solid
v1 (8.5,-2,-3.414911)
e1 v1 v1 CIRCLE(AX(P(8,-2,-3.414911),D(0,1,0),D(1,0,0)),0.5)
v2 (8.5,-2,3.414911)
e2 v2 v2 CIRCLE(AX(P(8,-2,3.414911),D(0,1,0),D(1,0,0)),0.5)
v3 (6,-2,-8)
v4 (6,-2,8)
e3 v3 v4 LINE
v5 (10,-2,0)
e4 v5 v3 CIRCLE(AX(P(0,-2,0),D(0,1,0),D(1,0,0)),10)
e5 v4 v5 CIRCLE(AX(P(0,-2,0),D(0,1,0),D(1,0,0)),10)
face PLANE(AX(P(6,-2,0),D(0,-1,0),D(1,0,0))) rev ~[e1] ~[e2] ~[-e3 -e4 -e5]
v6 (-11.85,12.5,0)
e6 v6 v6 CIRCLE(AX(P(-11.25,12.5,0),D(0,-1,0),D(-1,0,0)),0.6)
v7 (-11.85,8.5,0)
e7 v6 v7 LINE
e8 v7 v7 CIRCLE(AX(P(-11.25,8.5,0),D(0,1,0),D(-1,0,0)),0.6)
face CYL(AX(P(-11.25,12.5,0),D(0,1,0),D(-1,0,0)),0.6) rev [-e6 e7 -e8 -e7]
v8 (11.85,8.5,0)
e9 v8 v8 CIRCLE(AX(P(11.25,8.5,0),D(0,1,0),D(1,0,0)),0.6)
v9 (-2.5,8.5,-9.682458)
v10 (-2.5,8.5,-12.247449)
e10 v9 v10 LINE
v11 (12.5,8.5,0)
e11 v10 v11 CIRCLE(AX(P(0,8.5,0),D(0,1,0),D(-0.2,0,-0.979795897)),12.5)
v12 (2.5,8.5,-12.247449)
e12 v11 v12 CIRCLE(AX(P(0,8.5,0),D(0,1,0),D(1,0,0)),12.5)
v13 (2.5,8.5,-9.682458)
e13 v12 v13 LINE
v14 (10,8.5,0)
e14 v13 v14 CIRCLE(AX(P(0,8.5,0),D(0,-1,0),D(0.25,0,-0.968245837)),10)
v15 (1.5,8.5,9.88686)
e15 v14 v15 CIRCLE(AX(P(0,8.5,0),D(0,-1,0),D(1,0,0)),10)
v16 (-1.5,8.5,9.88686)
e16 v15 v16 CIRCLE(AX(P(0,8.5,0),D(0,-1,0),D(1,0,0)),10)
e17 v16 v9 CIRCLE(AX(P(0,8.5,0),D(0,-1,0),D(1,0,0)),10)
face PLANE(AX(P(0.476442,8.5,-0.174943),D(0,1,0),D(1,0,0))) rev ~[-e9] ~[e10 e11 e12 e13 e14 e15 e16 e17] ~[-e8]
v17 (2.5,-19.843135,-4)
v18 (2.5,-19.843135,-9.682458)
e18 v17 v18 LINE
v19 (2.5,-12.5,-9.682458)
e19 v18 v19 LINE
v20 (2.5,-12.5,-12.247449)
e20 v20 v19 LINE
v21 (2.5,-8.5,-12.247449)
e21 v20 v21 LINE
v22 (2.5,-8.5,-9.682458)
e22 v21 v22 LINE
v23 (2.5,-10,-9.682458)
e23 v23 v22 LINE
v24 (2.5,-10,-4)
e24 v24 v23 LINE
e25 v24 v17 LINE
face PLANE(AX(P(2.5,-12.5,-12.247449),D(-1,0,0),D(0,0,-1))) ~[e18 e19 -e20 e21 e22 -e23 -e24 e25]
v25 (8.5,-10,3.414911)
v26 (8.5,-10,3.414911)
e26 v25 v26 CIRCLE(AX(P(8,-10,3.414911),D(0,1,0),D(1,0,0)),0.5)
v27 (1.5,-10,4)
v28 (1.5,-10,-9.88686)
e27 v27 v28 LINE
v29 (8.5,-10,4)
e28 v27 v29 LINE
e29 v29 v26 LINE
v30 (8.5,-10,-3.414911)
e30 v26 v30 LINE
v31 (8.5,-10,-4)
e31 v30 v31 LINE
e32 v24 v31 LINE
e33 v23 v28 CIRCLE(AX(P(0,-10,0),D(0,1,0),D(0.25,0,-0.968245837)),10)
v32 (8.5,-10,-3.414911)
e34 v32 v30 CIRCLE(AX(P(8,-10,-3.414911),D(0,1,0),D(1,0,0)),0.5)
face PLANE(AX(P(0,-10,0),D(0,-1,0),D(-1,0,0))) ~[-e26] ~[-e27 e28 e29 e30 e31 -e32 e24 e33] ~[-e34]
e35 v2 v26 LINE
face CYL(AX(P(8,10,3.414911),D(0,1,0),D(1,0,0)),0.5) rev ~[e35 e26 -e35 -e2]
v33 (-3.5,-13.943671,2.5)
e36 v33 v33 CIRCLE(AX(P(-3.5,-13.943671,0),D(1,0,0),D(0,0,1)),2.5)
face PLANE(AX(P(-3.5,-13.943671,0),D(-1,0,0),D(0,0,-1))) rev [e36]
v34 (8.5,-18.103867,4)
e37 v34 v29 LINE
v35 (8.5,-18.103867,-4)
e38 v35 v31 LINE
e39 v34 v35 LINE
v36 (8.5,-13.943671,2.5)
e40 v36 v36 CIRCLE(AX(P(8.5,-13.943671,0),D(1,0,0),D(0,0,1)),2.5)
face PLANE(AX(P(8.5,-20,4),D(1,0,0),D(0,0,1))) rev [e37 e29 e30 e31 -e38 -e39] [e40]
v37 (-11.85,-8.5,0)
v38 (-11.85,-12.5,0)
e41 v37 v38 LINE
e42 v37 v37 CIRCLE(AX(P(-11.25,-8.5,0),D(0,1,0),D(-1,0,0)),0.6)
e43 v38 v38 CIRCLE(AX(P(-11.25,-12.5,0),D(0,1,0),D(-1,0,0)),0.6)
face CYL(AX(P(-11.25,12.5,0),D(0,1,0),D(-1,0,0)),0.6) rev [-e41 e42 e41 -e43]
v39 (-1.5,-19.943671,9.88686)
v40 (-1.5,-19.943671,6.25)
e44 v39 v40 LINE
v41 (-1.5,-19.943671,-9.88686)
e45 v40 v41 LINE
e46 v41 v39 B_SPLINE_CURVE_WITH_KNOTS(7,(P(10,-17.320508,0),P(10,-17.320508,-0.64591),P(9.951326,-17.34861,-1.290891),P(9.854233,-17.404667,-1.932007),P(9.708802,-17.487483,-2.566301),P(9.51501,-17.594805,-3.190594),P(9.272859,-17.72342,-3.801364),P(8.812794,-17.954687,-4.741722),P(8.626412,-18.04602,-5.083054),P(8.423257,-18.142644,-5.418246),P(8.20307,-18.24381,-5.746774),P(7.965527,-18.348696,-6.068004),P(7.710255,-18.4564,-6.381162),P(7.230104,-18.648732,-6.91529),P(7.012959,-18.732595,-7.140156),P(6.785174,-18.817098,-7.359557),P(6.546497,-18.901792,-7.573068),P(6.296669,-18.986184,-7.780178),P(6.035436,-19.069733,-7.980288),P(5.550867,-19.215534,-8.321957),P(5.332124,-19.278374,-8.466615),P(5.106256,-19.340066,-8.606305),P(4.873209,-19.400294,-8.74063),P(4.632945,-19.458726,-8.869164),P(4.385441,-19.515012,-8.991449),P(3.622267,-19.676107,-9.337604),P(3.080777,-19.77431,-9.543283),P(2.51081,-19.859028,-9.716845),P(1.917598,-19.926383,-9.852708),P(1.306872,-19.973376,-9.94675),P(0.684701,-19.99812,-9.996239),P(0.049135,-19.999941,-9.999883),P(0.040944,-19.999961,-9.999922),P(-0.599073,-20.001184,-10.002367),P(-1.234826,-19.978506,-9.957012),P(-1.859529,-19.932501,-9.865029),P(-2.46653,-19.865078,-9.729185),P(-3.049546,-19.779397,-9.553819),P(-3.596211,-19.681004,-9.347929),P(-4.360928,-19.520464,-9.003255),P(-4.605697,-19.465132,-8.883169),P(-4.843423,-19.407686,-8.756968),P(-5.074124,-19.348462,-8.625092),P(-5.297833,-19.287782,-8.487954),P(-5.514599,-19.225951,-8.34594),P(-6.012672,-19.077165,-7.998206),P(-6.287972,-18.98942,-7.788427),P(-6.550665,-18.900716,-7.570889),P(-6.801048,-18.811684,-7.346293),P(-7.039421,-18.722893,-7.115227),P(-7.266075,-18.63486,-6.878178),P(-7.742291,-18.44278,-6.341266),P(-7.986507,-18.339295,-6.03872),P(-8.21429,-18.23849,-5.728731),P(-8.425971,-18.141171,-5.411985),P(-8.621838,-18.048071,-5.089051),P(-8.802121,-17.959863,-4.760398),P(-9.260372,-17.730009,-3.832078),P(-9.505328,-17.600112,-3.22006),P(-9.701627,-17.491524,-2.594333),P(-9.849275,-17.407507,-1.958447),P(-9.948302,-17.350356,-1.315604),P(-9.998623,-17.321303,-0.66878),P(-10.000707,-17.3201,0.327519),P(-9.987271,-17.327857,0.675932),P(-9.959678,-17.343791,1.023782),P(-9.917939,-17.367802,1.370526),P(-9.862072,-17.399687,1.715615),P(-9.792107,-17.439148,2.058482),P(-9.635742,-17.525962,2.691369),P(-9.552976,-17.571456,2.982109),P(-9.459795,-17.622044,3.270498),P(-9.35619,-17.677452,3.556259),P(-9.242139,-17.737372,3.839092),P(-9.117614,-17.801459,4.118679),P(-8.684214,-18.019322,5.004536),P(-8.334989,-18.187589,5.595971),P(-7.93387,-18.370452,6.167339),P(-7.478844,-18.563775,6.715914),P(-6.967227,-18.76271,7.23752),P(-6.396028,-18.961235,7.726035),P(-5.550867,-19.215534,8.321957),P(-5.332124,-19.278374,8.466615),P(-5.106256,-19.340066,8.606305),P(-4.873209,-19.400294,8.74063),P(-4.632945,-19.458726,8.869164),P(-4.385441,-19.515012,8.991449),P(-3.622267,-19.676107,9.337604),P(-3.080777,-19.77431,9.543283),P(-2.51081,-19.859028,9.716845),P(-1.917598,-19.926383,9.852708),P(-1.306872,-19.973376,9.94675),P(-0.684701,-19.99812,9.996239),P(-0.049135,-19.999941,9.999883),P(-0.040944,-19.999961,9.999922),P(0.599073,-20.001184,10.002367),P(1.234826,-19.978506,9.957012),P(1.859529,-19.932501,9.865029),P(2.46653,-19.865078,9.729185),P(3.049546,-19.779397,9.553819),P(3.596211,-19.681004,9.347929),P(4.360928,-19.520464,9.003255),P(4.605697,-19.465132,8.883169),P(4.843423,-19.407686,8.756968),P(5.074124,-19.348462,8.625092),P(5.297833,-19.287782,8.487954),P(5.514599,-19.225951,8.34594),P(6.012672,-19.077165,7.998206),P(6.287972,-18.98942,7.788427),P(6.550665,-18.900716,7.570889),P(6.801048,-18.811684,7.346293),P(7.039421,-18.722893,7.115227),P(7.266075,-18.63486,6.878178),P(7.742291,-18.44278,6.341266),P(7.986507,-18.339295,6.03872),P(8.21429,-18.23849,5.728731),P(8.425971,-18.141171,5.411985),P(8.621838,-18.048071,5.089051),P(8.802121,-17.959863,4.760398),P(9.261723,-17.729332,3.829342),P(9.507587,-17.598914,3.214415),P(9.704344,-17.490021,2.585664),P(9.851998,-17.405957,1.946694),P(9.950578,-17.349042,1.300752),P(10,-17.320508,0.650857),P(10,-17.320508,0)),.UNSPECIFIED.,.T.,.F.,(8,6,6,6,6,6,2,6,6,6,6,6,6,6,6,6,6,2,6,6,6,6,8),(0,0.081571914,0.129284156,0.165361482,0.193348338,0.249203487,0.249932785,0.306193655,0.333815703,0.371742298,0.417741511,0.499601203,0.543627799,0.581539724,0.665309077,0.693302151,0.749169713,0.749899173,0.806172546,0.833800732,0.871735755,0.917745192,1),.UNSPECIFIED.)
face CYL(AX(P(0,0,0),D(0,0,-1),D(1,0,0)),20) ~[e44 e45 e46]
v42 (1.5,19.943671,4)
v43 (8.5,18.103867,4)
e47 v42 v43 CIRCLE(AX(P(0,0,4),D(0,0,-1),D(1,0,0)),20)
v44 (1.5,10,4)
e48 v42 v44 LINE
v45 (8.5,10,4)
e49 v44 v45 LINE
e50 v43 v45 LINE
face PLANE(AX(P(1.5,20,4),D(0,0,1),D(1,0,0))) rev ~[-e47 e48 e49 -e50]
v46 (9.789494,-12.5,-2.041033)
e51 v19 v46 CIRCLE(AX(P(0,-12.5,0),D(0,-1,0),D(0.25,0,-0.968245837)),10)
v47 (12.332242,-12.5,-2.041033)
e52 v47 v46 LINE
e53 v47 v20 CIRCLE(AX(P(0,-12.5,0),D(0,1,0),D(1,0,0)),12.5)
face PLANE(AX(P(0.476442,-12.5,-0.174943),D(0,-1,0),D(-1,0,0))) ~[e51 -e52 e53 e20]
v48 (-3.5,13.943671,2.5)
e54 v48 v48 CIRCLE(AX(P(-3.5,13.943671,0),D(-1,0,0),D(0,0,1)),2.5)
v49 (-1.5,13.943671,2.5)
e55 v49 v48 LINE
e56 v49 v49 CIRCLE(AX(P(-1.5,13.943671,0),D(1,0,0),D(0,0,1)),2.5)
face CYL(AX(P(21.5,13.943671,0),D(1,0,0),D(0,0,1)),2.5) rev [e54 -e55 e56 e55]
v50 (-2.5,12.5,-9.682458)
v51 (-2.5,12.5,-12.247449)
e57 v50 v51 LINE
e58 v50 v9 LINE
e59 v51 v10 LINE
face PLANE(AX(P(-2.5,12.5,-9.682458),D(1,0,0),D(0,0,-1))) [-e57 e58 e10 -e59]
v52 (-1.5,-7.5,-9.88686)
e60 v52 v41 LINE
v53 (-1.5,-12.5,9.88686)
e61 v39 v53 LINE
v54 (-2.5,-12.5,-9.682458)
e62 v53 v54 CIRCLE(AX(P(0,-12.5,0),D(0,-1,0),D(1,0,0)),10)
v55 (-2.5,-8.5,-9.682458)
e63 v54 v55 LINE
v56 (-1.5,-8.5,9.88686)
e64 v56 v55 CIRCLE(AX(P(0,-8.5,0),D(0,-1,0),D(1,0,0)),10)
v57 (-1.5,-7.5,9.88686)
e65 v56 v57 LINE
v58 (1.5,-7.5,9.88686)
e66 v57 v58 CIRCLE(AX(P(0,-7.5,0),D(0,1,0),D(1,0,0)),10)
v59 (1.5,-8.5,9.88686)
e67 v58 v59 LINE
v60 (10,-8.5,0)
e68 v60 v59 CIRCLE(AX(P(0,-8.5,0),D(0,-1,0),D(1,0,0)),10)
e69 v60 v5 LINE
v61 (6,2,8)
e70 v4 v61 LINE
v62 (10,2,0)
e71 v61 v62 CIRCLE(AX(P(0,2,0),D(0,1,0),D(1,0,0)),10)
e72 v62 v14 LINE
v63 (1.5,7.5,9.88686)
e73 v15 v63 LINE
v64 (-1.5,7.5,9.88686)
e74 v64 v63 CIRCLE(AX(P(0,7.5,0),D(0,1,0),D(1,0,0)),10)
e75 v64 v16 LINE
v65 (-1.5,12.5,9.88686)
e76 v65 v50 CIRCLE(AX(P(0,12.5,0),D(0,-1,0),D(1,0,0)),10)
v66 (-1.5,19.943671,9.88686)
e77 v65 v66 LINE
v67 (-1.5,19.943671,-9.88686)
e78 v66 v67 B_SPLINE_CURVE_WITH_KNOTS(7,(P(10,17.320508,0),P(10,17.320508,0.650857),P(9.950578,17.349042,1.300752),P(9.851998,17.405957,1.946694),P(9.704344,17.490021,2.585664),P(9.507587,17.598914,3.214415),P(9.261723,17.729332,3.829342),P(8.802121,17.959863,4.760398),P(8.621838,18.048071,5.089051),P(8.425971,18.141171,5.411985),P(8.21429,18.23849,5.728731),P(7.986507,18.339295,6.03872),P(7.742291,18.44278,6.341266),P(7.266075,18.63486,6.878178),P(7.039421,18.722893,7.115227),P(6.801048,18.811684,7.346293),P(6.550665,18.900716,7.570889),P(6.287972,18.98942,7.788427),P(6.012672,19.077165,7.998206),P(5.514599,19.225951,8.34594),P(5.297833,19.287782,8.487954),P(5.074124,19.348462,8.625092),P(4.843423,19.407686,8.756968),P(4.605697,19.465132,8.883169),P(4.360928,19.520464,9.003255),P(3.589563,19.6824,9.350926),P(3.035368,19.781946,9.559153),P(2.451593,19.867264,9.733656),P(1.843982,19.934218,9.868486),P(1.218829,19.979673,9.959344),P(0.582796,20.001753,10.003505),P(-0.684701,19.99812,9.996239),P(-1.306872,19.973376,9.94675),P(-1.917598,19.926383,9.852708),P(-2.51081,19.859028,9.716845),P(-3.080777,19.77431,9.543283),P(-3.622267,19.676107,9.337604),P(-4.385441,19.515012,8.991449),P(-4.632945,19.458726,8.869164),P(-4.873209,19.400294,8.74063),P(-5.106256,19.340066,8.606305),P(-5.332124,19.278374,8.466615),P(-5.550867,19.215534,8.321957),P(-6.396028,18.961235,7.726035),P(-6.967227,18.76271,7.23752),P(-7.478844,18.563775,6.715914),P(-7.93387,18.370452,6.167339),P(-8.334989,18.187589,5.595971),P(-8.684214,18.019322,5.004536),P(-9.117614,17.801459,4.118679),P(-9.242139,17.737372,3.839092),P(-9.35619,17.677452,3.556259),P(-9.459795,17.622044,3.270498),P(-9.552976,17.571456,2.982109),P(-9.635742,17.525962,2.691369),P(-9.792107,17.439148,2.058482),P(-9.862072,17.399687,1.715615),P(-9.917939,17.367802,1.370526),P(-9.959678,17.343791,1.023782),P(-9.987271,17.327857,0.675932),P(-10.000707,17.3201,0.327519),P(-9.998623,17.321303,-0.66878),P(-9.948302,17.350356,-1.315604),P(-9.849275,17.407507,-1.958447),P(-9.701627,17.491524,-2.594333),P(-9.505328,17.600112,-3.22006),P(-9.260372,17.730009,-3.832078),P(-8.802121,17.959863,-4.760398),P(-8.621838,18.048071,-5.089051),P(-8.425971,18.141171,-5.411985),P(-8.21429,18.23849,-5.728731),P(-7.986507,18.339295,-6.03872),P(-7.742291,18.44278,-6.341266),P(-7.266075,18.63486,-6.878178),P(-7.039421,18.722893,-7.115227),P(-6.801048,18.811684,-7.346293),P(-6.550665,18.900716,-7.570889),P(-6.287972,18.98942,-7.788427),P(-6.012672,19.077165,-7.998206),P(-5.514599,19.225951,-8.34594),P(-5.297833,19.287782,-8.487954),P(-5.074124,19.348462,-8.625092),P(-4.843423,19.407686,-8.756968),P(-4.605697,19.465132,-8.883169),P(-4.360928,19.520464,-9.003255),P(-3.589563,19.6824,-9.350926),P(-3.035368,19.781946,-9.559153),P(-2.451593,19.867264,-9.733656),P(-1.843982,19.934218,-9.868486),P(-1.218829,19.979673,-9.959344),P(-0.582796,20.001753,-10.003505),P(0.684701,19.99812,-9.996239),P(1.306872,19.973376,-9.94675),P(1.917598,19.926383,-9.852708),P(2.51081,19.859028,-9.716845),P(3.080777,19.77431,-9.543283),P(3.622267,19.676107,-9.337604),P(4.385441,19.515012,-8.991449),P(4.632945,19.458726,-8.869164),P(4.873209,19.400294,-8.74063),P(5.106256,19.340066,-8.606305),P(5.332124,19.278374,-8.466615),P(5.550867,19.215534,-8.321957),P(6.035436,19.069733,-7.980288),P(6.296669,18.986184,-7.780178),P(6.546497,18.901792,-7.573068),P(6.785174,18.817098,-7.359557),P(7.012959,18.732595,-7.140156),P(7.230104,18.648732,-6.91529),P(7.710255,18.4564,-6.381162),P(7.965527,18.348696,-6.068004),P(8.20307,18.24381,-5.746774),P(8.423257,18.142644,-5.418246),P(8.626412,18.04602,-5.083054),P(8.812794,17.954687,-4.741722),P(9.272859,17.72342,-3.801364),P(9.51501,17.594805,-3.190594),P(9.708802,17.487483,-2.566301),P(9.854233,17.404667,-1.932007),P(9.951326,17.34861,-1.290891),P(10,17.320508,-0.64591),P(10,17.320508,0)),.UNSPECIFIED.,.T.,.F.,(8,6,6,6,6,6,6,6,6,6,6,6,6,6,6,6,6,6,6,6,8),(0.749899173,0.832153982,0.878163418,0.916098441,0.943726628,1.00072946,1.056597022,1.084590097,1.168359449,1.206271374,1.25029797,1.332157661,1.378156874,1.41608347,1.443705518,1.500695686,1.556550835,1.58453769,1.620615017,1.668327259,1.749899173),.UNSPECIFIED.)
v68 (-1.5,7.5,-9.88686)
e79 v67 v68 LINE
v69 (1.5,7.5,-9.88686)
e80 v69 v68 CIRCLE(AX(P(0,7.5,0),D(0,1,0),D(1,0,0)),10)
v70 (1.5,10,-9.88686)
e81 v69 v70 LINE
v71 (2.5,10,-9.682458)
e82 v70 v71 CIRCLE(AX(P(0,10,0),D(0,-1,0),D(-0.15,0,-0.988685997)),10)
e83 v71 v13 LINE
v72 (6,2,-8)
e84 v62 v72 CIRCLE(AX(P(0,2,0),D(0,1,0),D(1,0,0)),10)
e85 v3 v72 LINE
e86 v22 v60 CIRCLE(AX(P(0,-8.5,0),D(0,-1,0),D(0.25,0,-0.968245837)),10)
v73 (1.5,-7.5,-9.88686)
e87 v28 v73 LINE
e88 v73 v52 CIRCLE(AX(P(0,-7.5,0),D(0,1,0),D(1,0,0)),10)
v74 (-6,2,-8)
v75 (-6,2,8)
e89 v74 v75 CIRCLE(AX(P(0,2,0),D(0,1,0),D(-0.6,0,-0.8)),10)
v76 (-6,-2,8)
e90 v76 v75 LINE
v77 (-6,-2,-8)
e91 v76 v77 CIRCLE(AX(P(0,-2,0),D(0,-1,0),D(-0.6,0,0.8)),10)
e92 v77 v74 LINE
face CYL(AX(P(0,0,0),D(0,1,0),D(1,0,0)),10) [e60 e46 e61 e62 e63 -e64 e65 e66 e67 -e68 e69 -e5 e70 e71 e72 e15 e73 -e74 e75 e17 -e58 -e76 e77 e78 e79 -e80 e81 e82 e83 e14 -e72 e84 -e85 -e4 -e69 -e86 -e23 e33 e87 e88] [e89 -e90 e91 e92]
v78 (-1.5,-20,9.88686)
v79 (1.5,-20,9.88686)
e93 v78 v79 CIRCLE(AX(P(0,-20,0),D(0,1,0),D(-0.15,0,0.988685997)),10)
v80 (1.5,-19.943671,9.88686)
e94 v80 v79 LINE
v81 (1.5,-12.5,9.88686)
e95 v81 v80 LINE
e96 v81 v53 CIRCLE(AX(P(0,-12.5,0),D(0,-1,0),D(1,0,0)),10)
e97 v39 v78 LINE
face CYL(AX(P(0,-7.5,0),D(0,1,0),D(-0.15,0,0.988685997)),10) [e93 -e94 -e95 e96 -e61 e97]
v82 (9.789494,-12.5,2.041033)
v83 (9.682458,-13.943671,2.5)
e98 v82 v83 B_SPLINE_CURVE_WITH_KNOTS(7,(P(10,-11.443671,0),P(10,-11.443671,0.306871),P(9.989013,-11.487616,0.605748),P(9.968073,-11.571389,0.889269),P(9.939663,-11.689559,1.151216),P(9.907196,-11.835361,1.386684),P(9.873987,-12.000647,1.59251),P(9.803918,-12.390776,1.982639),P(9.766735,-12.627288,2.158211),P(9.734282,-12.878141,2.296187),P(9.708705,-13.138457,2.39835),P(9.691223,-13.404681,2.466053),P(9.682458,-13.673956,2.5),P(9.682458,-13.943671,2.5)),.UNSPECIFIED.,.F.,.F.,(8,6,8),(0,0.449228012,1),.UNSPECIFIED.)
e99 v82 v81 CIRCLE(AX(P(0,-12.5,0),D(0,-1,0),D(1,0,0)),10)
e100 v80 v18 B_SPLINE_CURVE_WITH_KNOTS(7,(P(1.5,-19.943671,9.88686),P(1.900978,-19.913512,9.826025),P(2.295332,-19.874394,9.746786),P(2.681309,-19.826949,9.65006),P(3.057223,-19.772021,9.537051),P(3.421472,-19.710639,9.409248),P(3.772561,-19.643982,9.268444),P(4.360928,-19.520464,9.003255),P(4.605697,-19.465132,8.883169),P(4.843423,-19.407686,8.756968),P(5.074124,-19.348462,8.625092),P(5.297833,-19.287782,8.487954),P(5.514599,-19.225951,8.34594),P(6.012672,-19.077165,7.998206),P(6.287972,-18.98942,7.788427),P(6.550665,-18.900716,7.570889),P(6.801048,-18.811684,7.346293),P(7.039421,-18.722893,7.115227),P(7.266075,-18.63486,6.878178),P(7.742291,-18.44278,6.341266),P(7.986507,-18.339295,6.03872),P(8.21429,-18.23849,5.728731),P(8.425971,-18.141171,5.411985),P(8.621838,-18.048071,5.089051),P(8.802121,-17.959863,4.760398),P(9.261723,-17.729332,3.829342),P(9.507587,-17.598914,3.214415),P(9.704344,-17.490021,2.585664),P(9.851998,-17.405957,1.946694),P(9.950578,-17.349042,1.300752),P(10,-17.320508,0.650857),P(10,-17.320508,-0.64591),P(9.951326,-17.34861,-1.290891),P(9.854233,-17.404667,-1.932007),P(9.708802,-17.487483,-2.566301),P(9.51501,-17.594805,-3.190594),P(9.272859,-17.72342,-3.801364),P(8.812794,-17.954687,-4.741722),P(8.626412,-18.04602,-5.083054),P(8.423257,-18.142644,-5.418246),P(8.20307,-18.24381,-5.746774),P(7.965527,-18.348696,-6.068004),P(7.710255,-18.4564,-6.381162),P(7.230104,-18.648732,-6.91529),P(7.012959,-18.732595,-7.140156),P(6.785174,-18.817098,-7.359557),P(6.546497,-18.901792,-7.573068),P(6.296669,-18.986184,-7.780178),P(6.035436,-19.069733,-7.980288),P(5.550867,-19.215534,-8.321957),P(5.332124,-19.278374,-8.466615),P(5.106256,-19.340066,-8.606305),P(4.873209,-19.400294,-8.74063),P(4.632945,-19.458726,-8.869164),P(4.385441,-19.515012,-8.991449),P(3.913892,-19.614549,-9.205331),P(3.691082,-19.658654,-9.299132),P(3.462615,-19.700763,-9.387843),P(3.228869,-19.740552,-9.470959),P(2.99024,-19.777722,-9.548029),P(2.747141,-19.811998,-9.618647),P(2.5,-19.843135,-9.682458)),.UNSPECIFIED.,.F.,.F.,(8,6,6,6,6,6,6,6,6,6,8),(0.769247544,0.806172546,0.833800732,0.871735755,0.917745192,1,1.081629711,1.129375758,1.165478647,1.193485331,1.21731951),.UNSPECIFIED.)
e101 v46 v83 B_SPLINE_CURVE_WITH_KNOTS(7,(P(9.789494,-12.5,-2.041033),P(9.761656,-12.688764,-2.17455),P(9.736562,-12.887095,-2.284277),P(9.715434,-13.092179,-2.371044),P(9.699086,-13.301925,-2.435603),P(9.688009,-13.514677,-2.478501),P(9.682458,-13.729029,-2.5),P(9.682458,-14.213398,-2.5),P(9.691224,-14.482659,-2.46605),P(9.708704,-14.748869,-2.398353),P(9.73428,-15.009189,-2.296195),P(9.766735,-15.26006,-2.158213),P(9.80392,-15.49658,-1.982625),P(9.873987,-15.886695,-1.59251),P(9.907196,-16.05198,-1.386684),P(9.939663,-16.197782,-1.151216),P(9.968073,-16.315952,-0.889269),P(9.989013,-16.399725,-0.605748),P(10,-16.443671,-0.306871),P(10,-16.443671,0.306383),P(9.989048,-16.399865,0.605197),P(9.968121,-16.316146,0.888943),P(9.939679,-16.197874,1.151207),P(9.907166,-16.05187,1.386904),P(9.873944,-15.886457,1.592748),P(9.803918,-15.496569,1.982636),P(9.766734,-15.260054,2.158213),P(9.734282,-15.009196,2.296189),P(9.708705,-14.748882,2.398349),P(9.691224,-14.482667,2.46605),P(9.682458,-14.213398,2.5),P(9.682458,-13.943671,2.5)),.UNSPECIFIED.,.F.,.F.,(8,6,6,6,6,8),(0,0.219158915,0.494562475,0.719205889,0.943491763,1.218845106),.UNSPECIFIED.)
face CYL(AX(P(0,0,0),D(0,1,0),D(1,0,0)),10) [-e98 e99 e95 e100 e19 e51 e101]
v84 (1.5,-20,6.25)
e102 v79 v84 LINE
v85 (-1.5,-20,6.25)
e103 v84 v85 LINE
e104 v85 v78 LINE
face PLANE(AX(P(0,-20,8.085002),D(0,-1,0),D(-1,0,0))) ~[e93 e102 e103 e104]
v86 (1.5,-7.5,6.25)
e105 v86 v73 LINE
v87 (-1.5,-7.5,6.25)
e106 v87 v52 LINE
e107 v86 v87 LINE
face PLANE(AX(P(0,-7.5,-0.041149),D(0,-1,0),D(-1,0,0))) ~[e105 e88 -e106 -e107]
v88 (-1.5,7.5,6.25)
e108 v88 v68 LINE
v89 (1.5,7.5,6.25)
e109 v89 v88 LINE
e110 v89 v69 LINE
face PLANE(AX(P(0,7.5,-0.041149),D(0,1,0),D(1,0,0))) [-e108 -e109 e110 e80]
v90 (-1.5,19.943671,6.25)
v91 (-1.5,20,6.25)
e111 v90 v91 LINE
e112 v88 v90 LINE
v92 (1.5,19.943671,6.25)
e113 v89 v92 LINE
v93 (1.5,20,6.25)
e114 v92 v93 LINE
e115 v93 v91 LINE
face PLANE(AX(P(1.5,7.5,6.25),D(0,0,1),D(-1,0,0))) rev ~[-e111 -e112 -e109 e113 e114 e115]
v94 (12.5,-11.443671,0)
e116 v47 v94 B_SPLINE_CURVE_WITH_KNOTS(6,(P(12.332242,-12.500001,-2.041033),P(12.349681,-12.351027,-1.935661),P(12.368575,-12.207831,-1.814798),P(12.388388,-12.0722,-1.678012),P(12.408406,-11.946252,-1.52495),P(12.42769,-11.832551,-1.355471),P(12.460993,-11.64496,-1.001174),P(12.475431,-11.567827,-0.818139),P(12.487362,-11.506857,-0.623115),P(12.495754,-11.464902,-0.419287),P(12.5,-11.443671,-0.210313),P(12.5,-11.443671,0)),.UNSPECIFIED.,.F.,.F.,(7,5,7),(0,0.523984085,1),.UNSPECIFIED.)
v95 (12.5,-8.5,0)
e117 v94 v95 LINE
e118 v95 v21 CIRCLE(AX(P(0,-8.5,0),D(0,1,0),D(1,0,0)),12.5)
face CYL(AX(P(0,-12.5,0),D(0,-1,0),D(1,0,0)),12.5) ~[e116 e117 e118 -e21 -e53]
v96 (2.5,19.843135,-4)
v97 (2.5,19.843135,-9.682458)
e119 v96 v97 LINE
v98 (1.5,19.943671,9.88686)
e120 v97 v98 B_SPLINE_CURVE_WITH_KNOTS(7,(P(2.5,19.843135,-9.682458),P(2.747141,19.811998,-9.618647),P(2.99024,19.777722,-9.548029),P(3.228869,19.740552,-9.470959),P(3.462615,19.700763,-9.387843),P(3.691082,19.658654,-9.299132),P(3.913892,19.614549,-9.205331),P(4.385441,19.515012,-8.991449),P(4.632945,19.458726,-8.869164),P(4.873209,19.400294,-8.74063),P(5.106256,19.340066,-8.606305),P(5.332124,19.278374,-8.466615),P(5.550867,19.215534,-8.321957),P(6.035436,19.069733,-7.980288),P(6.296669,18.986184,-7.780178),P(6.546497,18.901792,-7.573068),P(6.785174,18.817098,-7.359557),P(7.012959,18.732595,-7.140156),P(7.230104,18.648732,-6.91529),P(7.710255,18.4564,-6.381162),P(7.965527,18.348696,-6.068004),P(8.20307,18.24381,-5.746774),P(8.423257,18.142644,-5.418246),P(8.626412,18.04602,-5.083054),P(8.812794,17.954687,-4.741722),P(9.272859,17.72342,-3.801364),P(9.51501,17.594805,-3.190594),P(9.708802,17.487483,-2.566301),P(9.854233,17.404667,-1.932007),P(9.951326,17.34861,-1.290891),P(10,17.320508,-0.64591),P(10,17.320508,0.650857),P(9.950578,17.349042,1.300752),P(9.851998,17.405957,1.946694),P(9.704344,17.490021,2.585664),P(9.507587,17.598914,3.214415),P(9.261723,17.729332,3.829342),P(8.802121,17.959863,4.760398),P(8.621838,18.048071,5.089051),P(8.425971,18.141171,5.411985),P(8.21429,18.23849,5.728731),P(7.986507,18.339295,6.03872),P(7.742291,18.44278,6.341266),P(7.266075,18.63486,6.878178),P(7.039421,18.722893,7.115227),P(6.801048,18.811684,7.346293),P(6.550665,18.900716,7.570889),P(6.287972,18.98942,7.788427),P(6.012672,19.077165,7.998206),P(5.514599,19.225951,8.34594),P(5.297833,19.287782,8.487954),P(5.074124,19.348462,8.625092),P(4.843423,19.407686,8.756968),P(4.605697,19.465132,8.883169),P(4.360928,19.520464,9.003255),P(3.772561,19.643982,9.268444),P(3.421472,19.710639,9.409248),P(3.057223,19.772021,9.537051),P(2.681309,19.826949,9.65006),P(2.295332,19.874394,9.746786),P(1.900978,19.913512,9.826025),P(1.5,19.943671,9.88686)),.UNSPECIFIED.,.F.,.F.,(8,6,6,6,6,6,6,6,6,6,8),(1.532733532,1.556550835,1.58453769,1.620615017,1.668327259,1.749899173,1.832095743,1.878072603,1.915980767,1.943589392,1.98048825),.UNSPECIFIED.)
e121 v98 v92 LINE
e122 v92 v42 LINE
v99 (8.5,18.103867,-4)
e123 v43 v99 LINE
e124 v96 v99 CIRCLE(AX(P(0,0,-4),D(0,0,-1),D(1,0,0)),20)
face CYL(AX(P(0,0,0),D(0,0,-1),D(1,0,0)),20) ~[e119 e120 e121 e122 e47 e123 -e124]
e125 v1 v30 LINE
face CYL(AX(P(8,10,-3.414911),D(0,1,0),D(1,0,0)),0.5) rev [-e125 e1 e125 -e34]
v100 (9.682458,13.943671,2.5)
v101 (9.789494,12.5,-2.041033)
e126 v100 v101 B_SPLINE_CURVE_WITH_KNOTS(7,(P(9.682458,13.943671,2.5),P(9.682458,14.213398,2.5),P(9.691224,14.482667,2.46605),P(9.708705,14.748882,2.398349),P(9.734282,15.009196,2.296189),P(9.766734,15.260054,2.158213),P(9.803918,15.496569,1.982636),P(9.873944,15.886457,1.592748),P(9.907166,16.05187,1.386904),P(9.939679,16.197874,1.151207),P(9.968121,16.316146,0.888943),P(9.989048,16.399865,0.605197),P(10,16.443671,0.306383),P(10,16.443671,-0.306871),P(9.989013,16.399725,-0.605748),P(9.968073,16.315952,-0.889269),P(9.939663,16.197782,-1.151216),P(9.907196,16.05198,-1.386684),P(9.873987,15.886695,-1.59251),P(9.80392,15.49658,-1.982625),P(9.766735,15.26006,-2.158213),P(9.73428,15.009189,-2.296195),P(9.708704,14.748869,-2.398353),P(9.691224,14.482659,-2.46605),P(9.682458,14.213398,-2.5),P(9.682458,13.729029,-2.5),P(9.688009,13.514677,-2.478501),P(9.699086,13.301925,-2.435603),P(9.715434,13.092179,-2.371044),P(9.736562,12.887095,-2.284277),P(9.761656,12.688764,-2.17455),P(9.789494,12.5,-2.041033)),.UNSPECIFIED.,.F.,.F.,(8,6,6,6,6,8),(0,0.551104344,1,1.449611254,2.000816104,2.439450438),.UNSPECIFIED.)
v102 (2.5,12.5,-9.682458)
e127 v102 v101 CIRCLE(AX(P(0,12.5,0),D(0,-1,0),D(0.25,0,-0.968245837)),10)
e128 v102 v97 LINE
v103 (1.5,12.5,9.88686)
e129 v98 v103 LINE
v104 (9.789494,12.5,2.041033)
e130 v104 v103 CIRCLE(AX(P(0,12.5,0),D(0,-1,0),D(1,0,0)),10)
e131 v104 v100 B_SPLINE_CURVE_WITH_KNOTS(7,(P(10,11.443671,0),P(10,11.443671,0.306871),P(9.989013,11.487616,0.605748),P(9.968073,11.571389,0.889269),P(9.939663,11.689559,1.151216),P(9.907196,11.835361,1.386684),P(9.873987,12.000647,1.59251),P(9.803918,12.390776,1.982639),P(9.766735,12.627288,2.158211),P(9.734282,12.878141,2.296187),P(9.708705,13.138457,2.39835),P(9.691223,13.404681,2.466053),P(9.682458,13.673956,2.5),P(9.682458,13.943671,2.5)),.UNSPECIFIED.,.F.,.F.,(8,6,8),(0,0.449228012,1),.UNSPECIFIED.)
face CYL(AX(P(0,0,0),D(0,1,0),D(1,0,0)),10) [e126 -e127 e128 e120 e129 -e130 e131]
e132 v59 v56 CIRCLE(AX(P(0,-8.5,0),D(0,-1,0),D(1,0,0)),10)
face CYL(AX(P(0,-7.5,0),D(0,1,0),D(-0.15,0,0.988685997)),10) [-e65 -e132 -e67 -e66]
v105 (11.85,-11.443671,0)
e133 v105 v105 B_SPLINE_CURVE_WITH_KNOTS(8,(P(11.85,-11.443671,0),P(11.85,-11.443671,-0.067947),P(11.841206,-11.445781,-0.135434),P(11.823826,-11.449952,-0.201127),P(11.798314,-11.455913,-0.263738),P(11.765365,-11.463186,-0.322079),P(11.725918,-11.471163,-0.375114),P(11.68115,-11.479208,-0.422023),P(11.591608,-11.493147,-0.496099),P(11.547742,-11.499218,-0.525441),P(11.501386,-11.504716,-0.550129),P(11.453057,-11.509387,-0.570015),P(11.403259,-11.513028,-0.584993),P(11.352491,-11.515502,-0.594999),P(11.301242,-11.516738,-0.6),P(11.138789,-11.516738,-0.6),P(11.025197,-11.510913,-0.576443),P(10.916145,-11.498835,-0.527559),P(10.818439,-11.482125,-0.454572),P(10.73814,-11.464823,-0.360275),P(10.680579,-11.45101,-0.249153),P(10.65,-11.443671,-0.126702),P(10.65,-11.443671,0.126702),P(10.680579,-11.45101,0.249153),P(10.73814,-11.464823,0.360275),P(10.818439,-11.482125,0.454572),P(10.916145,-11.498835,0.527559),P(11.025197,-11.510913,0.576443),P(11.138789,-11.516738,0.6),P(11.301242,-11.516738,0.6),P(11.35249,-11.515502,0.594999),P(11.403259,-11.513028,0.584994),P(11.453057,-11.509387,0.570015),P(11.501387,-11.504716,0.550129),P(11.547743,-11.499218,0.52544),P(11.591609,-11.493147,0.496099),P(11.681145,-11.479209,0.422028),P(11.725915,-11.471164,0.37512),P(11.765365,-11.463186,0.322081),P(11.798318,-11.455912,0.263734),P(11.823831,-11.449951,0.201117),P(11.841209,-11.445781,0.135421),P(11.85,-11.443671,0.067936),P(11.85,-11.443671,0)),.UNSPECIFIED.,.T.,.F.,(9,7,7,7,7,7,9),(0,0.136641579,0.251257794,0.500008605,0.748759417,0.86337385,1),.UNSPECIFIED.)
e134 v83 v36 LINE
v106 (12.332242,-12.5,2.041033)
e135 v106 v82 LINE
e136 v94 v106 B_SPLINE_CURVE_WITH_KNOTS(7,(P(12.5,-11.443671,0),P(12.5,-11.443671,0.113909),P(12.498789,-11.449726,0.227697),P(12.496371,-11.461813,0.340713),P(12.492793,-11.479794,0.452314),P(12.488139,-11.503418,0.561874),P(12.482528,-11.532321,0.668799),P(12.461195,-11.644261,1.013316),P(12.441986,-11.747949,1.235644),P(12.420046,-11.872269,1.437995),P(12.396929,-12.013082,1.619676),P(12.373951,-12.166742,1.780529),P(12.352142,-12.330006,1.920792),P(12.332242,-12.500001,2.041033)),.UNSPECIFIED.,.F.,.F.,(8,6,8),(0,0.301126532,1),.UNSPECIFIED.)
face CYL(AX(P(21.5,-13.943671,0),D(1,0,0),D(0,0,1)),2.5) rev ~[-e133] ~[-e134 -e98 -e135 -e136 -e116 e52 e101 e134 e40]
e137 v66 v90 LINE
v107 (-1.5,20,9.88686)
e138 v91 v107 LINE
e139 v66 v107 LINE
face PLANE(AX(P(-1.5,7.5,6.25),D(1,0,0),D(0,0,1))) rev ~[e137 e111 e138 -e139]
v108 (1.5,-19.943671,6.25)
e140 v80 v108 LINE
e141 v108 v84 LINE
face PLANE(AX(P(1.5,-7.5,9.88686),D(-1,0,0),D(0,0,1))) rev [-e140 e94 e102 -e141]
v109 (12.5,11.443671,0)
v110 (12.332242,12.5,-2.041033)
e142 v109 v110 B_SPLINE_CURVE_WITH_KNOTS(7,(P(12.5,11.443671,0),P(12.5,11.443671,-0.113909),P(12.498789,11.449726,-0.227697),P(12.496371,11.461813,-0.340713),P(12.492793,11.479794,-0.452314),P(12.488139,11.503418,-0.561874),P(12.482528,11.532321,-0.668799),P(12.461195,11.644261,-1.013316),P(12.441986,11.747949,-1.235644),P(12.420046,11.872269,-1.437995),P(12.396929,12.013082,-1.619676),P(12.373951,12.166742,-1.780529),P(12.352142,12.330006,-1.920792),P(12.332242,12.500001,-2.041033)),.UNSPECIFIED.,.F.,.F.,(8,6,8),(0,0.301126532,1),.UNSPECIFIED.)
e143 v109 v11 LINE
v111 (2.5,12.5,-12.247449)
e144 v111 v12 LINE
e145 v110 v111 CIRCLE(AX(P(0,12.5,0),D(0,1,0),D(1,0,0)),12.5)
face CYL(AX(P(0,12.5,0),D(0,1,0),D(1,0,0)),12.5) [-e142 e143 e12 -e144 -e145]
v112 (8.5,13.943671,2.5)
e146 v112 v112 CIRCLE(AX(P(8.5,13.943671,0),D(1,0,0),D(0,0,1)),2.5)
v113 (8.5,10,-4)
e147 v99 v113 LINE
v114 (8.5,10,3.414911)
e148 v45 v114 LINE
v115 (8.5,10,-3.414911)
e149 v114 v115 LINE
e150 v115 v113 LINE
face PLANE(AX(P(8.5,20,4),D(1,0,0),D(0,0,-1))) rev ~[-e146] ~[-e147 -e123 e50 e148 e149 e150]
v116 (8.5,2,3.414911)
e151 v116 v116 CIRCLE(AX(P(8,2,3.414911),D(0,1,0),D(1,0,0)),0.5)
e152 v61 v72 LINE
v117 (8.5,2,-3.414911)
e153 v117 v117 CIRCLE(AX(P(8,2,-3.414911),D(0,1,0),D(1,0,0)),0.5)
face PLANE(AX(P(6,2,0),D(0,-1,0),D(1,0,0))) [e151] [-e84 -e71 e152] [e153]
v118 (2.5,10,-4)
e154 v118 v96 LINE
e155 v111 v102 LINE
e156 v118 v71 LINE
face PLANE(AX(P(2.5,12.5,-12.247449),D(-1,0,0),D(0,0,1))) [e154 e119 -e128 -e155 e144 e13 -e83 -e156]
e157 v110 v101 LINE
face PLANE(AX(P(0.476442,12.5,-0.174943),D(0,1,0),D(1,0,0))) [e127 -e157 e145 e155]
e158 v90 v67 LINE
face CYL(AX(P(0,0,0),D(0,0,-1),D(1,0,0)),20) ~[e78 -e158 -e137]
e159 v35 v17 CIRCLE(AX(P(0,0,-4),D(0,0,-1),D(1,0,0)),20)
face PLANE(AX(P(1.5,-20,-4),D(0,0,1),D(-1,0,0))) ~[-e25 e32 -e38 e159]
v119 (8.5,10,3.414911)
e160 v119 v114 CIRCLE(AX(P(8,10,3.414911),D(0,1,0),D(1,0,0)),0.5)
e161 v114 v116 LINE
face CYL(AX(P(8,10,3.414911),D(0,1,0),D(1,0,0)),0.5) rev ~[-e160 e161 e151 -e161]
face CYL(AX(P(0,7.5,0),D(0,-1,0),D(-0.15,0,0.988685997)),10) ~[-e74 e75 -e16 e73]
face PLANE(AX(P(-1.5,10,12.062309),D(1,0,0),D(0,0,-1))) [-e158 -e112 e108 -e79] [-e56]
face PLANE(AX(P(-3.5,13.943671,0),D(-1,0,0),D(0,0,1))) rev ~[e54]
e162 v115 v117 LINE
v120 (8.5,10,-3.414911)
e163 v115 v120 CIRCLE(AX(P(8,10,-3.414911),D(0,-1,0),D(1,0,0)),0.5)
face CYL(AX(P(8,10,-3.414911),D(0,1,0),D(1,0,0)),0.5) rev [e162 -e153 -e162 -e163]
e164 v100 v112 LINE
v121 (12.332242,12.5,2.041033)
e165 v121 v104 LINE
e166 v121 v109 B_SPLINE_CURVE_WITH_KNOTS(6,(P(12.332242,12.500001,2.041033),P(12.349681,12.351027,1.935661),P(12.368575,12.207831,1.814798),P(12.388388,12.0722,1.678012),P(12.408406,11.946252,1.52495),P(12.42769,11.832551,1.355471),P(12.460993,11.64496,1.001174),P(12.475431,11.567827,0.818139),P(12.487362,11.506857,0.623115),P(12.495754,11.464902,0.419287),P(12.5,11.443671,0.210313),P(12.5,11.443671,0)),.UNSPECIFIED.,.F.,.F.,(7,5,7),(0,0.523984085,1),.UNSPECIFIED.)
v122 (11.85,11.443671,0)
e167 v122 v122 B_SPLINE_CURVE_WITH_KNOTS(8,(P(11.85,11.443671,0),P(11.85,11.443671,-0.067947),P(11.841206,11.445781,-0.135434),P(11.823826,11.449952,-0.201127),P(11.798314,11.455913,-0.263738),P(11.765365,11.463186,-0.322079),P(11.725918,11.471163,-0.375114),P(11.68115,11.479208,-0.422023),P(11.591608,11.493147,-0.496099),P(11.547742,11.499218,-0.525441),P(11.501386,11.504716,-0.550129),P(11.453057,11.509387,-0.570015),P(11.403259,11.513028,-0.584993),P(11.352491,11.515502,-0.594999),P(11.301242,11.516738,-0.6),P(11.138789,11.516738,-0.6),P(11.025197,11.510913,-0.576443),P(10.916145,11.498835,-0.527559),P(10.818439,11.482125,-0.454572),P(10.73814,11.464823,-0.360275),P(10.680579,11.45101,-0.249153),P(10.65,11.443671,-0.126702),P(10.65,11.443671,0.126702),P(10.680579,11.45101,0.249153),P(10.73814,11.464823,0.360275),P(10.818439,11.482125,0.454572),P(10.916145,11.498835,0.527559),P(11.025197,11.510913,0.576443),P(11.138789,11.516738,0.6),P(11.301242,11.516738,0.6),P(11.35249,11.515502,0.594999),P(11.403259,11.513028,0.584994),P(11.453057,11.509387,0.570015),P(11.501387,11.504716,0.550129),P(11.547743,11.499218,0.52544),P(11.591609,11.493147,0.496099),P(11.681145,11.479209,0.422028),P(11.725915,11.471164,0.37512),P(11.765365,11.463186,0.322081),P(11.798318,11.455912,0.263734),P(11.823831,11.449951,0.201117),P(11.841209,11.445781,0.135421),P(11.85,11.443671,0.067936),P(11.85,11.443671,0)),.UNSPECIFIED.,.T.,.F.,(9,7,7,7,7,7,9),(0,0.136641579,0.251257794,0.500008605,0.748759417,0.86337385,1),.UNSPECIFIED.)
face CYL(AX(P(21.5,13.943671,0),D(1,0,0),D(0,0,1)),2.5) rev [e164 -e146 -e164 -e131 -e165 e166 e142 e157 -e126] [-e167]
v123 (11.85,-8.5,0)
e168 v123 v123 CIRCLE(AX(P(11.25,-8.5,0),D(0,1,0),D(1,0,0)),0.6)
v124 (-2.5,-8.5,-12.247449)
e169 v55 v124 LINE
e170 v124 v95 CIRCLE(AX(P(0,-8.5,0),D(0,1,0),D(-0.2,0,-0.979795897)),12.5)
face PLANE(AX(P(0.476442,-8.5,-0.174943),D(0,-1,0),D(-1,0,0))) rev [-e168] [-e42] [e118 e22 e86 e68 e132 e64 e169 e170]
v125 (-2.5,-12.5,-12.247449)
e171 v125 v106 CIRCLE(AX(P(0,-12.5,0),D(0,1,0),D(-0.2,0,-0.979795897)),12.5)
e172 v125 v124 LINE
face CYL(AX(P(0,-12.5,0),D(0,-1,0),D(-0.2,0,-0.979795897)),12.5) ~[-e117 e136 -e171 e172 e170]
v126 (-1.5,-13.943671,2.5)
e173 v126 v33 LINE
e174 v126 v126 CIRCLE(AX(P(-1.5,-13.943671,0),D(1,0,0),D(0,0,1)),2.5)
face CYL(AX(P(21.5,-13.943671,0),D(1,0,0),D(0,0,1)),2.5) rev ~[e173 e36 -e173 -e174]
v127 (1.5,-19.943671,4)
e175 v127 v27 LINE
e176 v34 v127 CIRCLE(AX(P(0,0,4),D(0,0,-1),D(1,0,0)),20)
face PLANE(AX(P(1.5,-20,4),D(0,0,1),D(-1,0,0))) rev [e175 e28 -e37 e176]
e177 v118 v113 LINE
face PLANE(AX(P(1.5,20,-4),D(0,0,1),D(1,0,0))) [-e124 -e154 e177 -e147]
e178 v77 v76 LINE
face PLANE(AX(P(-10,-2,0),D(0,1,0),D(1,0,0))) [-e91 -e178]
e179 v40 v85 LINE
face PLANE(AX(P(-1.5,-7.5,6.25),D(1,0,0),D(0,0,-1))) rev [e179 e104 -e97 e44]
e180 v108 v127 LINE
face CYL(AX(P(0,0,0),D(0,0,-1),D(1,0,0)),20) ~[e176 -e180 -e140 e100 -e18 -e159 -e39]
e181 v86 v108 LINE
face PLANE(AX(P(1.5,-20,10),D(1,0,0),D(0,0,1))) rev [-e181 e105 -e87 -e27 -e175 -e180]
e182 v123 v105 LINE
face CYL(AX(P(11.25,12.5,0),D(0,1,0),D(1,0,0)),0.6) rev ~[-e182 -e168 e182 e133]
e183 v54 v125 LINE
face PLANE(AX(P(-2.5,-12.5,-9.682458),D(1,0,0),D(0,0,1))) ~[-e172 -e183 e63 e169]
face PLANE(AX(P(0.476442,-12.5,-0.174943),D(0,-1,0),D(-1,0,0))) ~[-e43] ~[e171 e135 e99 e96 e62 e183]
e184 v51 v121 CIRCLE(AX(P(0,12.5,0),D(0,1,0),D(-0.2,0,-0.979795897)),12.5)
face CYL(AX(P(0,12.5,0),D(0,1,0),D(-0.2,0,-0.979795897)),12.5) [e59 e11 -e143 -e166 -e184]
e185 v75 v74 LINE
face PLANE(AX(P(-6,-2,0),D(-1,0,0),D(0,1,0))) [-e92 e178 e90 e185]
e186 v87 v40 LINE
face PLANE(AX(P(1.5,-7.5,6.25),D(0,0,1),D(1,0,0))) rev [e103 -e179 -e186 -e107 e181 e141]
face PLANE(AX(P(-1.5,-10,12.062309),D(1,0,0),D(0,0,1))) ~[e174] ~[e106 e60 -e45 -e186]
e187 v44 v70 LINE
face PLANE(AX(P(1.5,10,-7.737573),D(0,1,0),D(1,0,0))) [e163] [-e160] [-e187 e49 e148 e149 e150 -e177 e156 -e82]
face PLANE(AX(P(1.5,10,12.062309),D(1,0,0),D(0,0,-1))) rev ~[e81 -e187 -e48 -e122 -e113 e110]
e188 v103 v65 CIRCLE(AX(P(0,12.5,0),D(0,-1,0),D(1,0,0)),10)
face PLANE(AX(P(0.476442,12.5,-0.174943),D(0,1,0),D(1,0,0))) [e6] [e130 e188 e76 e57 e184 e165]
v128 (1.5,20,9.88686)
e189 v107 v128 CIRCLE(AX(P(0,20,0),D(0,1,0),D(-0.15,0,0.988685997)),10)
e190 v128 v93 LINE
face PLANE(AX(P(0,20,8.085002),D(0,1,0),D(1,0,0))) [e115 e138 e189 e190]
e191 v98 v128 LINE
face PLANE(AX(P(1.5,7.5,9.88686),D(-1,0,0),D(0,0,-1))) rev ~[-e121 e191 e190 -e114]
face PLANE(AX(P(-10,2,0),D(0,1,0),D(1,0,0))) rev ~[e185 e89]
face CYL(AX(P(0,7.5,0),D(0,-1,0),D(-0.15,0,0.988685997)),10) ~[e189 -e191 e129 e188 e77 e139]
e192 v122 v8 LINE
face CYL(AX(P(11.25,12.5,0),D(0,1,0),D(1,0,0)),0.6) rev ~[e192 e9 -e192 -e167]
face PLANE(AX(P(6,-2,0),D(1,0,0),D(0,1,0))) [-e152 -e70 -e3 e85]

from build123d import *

# Parameters (mm, degrees)
SKETCH1_R           = 10
BOSS_EXTRUDE1_DEPTH = 20
SKETCH2_R           = 24.856075314
SKETCH2_R_2         = 20
CUT_EXTRUDE3_DEPTH  = 20
SKETCH5_W           = 3
SKETCH5_H           = 20
CUT_EXTRUDE4_DEPTH  = 10
CUT_EXTRUDE5_START  = -20
SKETCH6_R           = 2.5
CUT_EXTRUDE5_DEPTH  = 25
SKETCH7_W           = 7
SKETCH7_H           = 8
CUT_EXTRUDE7_DEPTH  = 10
SKETCH8_R           = 0.5
CUT_EXTRUDE8_DEPTH  = 30
SKETCH9_W           = 2
SKETCH9_H           = 7.475145823
CUT_EXTRUDE9_DEPTH  = 23
SKETCH10_W          = 3
SKETCH10_H          = 24.206915905
CUT_EXTRUDE10_DEPTH = 2.5
SKETCH12_W          = 4
SKETCH12_H          = 4
CUT_EXTRUDE12_DEPTH = 15
BOSS_EXTRUDE7_DEPTH = 4
SKETCH39_R          = 2.5
CUT_EXTRUDE15_DEPTH = 12.5
BOSS_EXTRUDE8_DEPTH = 12.5
SKETCH42_R          = 0.6
CUT_EXTRUDE16_DEPTH = 33.5


with BuildPart() as part:
    # Sketch1 → Boss-Extrude1 (new body, symmetric)
    with BuildSketch(Plane(origin=(0, 0, 0), x_dir=(1, 0, 0), z_dir=(0, 1, 0))):
        Circle(SKETCH1_R)
    extrude(amount=BOSS_EXTRUDE1_DEPTH, both=True)

    # Sketch2 → Cut-Extrude3 (cut, symmetric)
    with BuildSketch(Plane.XY):
        Circle(SKETCH2_R)
        Circle(SKETCH2_R_2, mode=Mode.SUBTRACT)
    cut_extrude3 = extrude(amount=CUT_EXTRUDE3_DEPTH, both=True, mode=Mode.SUBTRACT)

    # Sketch5 → Cut-Extrude4 (cut)
    with BuildSketch(Plane(origin=(0, 20, 0), x_dir=(1, 0, 0), z_dir=(0, 1, 0))):
        Rectangle(SKETCH5_W, SKETCH5_H)
    cut_extrude4 = extrude(amount=-CUT_EXTRUDE4_DEPTH, mode=Mode.SUBTRACT)

    # Sketch6 → Cut-Extrude5 (cut)
    with BuildSketch(Plane.ZY.offset(-1.5).offset(CUT_EXTRUDE5_START)):
        with Locations((0, 13.943670675)):
            Circle(SKETCH6_R)
    cut_extrude5 = extrude(amount=CUT_EXTRUDE5_DEPTH, mode=Mode.SUBTRACT)

    # Sketch7 → Cut-Extrude7 (cut)
    with BuildSketch(Plane(origin=(0, 20, 0), x_dir=(1, 0, 0), z_dir=(0, 1, 0))):
        with Locations((5, 0)):
            Rectangle(SKETCH7_W, SKETCH7_H)
    cut_extrude7 = extrude(amount=-CUT_EXTRUDE7_DEPTH, mode=Mode.SUBTRACT)

    # Sketch8 → Cut-Extrude8 (cut)
    with BuildSketch(Plane(origin=(0, 10, 0), x_dir=(1, 0, 0), z_dir=(0, 1, 0))):
        with Locations((8, -3.414911062)):
            Circle(SKETCH8_R)
    cut_extrude8 = extrude(amount=-CUT_EXTRUDE8_DEPTH, mode=Mode.SUBTRACT)

    # Sketch9 → Cut-Extrude9 (cut)
    with BuildSketch(Plane(origin=(0, 10, 0), x_dir=(1, 0, 0), z_dir=(0, 1, 0))):
        with Locations((1.5, 7.737572912)):
            Rectangle(SKETCH9_W, SKETCH9_H)
    cut_extrude9 = extrude(amount=CUT_EXTRUDE9_DEPTH, mode=Mode.SUBTRACT)

    # Mirror2: Cut-Extrude3, Cut-Extrude4, Cut-Extrude5, Cut-Extrude7, Cut-Extrude8, Cut-Extrude9 across plane
    add(cut_extrude3.mirror(Plane.ZX), mode=Mode.SUBTRACT)
    add(cut_extrude4.mirror(Plane.ZX), mode=Mode.SUBTRACT)
    add(cut_extrude5.mirror(Plane.ZX), mode=Mode.SUBTRACT)
    add(cut_extrude7.mirror(Plane.ZX), mode=Mode.SUBTRACT)
    add(cut_extrude8.mirror(Plane.ZX), mode=Mode.SUBTRACT)
    add(cut_extrude9.mirror(Plane.ZX), mode=Mode.SUBTRACT)

    # Mirror3: Cut-Extrude8 across plane
    add(cut_extrude8.mirror(Plane.XY), mode=Mode.SUBTRACT)

    # Sketch10 → Cut-Extrude10 (cut)
    with BuildSketch(Plane(origin=(0, 10, 0), x_dir=(1, 0, 0), z_dir=(0, 1, 0))):
        with Locations((0, 0.041148578)):
            Rectangle(SKETCH10_W, SKETCH10_H)
    cut_extrude10 = extrude(amount=-CUT_EXTRUDE10_DEPTH, mode=Mode.SUBTRACT)

    # Mirror4: Cut-Extrude10 across plane
    add(cut_extrude10.mirror(Plane.ZX), mode=Mode.SUBTRACT)

    # Sketch12 → Cut-Extrude12 (cut, symmetric)
    with BuildSketch(Plane.XY):
        with Locations((-8, 0)):
            Rectangle(SKETCH12_W, SKETCH12_H)
        with Locations((8, 0)):
            Rectangle(SKETCH12_W, SKETCH12_H)
    extrude(amount=CUT_EXTRUDE12_DEPTH, both=True, mode=Mode.SUBTRACT)

    # Sketch37 → Boss-Extrude7 (add)
    with BuildSketch(Plane(origin=(0, 12.5, 0), x_dir=(1, 0, 0), z_dir=(0, 1, 0))):
        with BuildLine():
            Line((-2.5, 9.682458366), (-2.5, 12.247448714))
            ThreePointArc((-2.5, 12.247448714), (-7.90569415, -9.682458366), (12.5, 0))
            ThreePointArc((12.5, 0), (9.682458366, 7.90569415), (2.5, 12.247448714))
            Line((2.5, 12.247448714), (2.5, 9.682458366))
            ThreePointArc((2.5, 9.682458366), (7.90569415, 6.123724357), (10, 0))
            ThreePointArc((10, 0), (-6.123724357, -7.90569415), (-2.5, 9.682458366))
        make_face()
    boss_extrude7 = extrude(amount=-BOSS_EXTRUDE7_DEPTH)

    # Mirror5: Boss-Extrude7 across plane
    add(boss_extrude7.mirror(Plane.ZX))

    # Sketch39 → Cut-Extrude15 (cut)
    with BuildSketch(Plane(origin=(0, 0, 0), x_dir=(0, 0, -1), z_dir=(1, 0, 0))):
        with Locations((0, 13.943670675)):
            Circle(SKETCH39_R)
        with Locations((0, -13.943670675)):
            Circle(SKETCH39_R)
    extrude(amount=CUT_EXTRUDE15_DEPTH, mode=Mode.SUBTRACT)

    # Sketch41 → Boss-Extrude8 (add)
    with BuildSketch(Plane(origin=(0, 7.5, 0), x_dir=(1, 0, 0), z_dir=(0, 1, 0))):
        with BuildLine():
            Line((1.5, -6.25), (-1.5, -6.25))
            Line((-1.5, -6.25), (-1.5, -9.886859967))
            ThreePointArc((-1.5, -9.886859967), (0, -10), (1.5, -9.886859967))
            Line((1.5, -9.886859967), (1.5, -6.25))
        make_face()
    boss_extrude8 = extrude(amount=BOSS_EXTRUDE8_DEPTH)

    # Mirror6: Boss-Extrude8 across plane
    add(boss_extrude8.mirror(Plane.ZX))

    # Sketch42 → Cut-Extrude16 (cut, through all)
    with BuildSketch(Plane(origin=(0, 12.5, 0), x_dir=(1, 0, 0), z_dir=(0, 1, 0))):
        with Locations((11.25, 0)):
            Circle(SKETCH42_R)
    cut_extrude16 = extrude(amount=-CUT_EXTRUDE16_DEPTH, mode=Mode.SUBTRACT)

    # Mirror7: Cut-Extrude16 across plane
    add(cut_extrude16.mirror(Plane(origin=(0, 0, 0), x_dir=(0, 0, 1), z_dir=(1, 0, 0))), mode=Mode.SUBTRACT)


solid = part.part
